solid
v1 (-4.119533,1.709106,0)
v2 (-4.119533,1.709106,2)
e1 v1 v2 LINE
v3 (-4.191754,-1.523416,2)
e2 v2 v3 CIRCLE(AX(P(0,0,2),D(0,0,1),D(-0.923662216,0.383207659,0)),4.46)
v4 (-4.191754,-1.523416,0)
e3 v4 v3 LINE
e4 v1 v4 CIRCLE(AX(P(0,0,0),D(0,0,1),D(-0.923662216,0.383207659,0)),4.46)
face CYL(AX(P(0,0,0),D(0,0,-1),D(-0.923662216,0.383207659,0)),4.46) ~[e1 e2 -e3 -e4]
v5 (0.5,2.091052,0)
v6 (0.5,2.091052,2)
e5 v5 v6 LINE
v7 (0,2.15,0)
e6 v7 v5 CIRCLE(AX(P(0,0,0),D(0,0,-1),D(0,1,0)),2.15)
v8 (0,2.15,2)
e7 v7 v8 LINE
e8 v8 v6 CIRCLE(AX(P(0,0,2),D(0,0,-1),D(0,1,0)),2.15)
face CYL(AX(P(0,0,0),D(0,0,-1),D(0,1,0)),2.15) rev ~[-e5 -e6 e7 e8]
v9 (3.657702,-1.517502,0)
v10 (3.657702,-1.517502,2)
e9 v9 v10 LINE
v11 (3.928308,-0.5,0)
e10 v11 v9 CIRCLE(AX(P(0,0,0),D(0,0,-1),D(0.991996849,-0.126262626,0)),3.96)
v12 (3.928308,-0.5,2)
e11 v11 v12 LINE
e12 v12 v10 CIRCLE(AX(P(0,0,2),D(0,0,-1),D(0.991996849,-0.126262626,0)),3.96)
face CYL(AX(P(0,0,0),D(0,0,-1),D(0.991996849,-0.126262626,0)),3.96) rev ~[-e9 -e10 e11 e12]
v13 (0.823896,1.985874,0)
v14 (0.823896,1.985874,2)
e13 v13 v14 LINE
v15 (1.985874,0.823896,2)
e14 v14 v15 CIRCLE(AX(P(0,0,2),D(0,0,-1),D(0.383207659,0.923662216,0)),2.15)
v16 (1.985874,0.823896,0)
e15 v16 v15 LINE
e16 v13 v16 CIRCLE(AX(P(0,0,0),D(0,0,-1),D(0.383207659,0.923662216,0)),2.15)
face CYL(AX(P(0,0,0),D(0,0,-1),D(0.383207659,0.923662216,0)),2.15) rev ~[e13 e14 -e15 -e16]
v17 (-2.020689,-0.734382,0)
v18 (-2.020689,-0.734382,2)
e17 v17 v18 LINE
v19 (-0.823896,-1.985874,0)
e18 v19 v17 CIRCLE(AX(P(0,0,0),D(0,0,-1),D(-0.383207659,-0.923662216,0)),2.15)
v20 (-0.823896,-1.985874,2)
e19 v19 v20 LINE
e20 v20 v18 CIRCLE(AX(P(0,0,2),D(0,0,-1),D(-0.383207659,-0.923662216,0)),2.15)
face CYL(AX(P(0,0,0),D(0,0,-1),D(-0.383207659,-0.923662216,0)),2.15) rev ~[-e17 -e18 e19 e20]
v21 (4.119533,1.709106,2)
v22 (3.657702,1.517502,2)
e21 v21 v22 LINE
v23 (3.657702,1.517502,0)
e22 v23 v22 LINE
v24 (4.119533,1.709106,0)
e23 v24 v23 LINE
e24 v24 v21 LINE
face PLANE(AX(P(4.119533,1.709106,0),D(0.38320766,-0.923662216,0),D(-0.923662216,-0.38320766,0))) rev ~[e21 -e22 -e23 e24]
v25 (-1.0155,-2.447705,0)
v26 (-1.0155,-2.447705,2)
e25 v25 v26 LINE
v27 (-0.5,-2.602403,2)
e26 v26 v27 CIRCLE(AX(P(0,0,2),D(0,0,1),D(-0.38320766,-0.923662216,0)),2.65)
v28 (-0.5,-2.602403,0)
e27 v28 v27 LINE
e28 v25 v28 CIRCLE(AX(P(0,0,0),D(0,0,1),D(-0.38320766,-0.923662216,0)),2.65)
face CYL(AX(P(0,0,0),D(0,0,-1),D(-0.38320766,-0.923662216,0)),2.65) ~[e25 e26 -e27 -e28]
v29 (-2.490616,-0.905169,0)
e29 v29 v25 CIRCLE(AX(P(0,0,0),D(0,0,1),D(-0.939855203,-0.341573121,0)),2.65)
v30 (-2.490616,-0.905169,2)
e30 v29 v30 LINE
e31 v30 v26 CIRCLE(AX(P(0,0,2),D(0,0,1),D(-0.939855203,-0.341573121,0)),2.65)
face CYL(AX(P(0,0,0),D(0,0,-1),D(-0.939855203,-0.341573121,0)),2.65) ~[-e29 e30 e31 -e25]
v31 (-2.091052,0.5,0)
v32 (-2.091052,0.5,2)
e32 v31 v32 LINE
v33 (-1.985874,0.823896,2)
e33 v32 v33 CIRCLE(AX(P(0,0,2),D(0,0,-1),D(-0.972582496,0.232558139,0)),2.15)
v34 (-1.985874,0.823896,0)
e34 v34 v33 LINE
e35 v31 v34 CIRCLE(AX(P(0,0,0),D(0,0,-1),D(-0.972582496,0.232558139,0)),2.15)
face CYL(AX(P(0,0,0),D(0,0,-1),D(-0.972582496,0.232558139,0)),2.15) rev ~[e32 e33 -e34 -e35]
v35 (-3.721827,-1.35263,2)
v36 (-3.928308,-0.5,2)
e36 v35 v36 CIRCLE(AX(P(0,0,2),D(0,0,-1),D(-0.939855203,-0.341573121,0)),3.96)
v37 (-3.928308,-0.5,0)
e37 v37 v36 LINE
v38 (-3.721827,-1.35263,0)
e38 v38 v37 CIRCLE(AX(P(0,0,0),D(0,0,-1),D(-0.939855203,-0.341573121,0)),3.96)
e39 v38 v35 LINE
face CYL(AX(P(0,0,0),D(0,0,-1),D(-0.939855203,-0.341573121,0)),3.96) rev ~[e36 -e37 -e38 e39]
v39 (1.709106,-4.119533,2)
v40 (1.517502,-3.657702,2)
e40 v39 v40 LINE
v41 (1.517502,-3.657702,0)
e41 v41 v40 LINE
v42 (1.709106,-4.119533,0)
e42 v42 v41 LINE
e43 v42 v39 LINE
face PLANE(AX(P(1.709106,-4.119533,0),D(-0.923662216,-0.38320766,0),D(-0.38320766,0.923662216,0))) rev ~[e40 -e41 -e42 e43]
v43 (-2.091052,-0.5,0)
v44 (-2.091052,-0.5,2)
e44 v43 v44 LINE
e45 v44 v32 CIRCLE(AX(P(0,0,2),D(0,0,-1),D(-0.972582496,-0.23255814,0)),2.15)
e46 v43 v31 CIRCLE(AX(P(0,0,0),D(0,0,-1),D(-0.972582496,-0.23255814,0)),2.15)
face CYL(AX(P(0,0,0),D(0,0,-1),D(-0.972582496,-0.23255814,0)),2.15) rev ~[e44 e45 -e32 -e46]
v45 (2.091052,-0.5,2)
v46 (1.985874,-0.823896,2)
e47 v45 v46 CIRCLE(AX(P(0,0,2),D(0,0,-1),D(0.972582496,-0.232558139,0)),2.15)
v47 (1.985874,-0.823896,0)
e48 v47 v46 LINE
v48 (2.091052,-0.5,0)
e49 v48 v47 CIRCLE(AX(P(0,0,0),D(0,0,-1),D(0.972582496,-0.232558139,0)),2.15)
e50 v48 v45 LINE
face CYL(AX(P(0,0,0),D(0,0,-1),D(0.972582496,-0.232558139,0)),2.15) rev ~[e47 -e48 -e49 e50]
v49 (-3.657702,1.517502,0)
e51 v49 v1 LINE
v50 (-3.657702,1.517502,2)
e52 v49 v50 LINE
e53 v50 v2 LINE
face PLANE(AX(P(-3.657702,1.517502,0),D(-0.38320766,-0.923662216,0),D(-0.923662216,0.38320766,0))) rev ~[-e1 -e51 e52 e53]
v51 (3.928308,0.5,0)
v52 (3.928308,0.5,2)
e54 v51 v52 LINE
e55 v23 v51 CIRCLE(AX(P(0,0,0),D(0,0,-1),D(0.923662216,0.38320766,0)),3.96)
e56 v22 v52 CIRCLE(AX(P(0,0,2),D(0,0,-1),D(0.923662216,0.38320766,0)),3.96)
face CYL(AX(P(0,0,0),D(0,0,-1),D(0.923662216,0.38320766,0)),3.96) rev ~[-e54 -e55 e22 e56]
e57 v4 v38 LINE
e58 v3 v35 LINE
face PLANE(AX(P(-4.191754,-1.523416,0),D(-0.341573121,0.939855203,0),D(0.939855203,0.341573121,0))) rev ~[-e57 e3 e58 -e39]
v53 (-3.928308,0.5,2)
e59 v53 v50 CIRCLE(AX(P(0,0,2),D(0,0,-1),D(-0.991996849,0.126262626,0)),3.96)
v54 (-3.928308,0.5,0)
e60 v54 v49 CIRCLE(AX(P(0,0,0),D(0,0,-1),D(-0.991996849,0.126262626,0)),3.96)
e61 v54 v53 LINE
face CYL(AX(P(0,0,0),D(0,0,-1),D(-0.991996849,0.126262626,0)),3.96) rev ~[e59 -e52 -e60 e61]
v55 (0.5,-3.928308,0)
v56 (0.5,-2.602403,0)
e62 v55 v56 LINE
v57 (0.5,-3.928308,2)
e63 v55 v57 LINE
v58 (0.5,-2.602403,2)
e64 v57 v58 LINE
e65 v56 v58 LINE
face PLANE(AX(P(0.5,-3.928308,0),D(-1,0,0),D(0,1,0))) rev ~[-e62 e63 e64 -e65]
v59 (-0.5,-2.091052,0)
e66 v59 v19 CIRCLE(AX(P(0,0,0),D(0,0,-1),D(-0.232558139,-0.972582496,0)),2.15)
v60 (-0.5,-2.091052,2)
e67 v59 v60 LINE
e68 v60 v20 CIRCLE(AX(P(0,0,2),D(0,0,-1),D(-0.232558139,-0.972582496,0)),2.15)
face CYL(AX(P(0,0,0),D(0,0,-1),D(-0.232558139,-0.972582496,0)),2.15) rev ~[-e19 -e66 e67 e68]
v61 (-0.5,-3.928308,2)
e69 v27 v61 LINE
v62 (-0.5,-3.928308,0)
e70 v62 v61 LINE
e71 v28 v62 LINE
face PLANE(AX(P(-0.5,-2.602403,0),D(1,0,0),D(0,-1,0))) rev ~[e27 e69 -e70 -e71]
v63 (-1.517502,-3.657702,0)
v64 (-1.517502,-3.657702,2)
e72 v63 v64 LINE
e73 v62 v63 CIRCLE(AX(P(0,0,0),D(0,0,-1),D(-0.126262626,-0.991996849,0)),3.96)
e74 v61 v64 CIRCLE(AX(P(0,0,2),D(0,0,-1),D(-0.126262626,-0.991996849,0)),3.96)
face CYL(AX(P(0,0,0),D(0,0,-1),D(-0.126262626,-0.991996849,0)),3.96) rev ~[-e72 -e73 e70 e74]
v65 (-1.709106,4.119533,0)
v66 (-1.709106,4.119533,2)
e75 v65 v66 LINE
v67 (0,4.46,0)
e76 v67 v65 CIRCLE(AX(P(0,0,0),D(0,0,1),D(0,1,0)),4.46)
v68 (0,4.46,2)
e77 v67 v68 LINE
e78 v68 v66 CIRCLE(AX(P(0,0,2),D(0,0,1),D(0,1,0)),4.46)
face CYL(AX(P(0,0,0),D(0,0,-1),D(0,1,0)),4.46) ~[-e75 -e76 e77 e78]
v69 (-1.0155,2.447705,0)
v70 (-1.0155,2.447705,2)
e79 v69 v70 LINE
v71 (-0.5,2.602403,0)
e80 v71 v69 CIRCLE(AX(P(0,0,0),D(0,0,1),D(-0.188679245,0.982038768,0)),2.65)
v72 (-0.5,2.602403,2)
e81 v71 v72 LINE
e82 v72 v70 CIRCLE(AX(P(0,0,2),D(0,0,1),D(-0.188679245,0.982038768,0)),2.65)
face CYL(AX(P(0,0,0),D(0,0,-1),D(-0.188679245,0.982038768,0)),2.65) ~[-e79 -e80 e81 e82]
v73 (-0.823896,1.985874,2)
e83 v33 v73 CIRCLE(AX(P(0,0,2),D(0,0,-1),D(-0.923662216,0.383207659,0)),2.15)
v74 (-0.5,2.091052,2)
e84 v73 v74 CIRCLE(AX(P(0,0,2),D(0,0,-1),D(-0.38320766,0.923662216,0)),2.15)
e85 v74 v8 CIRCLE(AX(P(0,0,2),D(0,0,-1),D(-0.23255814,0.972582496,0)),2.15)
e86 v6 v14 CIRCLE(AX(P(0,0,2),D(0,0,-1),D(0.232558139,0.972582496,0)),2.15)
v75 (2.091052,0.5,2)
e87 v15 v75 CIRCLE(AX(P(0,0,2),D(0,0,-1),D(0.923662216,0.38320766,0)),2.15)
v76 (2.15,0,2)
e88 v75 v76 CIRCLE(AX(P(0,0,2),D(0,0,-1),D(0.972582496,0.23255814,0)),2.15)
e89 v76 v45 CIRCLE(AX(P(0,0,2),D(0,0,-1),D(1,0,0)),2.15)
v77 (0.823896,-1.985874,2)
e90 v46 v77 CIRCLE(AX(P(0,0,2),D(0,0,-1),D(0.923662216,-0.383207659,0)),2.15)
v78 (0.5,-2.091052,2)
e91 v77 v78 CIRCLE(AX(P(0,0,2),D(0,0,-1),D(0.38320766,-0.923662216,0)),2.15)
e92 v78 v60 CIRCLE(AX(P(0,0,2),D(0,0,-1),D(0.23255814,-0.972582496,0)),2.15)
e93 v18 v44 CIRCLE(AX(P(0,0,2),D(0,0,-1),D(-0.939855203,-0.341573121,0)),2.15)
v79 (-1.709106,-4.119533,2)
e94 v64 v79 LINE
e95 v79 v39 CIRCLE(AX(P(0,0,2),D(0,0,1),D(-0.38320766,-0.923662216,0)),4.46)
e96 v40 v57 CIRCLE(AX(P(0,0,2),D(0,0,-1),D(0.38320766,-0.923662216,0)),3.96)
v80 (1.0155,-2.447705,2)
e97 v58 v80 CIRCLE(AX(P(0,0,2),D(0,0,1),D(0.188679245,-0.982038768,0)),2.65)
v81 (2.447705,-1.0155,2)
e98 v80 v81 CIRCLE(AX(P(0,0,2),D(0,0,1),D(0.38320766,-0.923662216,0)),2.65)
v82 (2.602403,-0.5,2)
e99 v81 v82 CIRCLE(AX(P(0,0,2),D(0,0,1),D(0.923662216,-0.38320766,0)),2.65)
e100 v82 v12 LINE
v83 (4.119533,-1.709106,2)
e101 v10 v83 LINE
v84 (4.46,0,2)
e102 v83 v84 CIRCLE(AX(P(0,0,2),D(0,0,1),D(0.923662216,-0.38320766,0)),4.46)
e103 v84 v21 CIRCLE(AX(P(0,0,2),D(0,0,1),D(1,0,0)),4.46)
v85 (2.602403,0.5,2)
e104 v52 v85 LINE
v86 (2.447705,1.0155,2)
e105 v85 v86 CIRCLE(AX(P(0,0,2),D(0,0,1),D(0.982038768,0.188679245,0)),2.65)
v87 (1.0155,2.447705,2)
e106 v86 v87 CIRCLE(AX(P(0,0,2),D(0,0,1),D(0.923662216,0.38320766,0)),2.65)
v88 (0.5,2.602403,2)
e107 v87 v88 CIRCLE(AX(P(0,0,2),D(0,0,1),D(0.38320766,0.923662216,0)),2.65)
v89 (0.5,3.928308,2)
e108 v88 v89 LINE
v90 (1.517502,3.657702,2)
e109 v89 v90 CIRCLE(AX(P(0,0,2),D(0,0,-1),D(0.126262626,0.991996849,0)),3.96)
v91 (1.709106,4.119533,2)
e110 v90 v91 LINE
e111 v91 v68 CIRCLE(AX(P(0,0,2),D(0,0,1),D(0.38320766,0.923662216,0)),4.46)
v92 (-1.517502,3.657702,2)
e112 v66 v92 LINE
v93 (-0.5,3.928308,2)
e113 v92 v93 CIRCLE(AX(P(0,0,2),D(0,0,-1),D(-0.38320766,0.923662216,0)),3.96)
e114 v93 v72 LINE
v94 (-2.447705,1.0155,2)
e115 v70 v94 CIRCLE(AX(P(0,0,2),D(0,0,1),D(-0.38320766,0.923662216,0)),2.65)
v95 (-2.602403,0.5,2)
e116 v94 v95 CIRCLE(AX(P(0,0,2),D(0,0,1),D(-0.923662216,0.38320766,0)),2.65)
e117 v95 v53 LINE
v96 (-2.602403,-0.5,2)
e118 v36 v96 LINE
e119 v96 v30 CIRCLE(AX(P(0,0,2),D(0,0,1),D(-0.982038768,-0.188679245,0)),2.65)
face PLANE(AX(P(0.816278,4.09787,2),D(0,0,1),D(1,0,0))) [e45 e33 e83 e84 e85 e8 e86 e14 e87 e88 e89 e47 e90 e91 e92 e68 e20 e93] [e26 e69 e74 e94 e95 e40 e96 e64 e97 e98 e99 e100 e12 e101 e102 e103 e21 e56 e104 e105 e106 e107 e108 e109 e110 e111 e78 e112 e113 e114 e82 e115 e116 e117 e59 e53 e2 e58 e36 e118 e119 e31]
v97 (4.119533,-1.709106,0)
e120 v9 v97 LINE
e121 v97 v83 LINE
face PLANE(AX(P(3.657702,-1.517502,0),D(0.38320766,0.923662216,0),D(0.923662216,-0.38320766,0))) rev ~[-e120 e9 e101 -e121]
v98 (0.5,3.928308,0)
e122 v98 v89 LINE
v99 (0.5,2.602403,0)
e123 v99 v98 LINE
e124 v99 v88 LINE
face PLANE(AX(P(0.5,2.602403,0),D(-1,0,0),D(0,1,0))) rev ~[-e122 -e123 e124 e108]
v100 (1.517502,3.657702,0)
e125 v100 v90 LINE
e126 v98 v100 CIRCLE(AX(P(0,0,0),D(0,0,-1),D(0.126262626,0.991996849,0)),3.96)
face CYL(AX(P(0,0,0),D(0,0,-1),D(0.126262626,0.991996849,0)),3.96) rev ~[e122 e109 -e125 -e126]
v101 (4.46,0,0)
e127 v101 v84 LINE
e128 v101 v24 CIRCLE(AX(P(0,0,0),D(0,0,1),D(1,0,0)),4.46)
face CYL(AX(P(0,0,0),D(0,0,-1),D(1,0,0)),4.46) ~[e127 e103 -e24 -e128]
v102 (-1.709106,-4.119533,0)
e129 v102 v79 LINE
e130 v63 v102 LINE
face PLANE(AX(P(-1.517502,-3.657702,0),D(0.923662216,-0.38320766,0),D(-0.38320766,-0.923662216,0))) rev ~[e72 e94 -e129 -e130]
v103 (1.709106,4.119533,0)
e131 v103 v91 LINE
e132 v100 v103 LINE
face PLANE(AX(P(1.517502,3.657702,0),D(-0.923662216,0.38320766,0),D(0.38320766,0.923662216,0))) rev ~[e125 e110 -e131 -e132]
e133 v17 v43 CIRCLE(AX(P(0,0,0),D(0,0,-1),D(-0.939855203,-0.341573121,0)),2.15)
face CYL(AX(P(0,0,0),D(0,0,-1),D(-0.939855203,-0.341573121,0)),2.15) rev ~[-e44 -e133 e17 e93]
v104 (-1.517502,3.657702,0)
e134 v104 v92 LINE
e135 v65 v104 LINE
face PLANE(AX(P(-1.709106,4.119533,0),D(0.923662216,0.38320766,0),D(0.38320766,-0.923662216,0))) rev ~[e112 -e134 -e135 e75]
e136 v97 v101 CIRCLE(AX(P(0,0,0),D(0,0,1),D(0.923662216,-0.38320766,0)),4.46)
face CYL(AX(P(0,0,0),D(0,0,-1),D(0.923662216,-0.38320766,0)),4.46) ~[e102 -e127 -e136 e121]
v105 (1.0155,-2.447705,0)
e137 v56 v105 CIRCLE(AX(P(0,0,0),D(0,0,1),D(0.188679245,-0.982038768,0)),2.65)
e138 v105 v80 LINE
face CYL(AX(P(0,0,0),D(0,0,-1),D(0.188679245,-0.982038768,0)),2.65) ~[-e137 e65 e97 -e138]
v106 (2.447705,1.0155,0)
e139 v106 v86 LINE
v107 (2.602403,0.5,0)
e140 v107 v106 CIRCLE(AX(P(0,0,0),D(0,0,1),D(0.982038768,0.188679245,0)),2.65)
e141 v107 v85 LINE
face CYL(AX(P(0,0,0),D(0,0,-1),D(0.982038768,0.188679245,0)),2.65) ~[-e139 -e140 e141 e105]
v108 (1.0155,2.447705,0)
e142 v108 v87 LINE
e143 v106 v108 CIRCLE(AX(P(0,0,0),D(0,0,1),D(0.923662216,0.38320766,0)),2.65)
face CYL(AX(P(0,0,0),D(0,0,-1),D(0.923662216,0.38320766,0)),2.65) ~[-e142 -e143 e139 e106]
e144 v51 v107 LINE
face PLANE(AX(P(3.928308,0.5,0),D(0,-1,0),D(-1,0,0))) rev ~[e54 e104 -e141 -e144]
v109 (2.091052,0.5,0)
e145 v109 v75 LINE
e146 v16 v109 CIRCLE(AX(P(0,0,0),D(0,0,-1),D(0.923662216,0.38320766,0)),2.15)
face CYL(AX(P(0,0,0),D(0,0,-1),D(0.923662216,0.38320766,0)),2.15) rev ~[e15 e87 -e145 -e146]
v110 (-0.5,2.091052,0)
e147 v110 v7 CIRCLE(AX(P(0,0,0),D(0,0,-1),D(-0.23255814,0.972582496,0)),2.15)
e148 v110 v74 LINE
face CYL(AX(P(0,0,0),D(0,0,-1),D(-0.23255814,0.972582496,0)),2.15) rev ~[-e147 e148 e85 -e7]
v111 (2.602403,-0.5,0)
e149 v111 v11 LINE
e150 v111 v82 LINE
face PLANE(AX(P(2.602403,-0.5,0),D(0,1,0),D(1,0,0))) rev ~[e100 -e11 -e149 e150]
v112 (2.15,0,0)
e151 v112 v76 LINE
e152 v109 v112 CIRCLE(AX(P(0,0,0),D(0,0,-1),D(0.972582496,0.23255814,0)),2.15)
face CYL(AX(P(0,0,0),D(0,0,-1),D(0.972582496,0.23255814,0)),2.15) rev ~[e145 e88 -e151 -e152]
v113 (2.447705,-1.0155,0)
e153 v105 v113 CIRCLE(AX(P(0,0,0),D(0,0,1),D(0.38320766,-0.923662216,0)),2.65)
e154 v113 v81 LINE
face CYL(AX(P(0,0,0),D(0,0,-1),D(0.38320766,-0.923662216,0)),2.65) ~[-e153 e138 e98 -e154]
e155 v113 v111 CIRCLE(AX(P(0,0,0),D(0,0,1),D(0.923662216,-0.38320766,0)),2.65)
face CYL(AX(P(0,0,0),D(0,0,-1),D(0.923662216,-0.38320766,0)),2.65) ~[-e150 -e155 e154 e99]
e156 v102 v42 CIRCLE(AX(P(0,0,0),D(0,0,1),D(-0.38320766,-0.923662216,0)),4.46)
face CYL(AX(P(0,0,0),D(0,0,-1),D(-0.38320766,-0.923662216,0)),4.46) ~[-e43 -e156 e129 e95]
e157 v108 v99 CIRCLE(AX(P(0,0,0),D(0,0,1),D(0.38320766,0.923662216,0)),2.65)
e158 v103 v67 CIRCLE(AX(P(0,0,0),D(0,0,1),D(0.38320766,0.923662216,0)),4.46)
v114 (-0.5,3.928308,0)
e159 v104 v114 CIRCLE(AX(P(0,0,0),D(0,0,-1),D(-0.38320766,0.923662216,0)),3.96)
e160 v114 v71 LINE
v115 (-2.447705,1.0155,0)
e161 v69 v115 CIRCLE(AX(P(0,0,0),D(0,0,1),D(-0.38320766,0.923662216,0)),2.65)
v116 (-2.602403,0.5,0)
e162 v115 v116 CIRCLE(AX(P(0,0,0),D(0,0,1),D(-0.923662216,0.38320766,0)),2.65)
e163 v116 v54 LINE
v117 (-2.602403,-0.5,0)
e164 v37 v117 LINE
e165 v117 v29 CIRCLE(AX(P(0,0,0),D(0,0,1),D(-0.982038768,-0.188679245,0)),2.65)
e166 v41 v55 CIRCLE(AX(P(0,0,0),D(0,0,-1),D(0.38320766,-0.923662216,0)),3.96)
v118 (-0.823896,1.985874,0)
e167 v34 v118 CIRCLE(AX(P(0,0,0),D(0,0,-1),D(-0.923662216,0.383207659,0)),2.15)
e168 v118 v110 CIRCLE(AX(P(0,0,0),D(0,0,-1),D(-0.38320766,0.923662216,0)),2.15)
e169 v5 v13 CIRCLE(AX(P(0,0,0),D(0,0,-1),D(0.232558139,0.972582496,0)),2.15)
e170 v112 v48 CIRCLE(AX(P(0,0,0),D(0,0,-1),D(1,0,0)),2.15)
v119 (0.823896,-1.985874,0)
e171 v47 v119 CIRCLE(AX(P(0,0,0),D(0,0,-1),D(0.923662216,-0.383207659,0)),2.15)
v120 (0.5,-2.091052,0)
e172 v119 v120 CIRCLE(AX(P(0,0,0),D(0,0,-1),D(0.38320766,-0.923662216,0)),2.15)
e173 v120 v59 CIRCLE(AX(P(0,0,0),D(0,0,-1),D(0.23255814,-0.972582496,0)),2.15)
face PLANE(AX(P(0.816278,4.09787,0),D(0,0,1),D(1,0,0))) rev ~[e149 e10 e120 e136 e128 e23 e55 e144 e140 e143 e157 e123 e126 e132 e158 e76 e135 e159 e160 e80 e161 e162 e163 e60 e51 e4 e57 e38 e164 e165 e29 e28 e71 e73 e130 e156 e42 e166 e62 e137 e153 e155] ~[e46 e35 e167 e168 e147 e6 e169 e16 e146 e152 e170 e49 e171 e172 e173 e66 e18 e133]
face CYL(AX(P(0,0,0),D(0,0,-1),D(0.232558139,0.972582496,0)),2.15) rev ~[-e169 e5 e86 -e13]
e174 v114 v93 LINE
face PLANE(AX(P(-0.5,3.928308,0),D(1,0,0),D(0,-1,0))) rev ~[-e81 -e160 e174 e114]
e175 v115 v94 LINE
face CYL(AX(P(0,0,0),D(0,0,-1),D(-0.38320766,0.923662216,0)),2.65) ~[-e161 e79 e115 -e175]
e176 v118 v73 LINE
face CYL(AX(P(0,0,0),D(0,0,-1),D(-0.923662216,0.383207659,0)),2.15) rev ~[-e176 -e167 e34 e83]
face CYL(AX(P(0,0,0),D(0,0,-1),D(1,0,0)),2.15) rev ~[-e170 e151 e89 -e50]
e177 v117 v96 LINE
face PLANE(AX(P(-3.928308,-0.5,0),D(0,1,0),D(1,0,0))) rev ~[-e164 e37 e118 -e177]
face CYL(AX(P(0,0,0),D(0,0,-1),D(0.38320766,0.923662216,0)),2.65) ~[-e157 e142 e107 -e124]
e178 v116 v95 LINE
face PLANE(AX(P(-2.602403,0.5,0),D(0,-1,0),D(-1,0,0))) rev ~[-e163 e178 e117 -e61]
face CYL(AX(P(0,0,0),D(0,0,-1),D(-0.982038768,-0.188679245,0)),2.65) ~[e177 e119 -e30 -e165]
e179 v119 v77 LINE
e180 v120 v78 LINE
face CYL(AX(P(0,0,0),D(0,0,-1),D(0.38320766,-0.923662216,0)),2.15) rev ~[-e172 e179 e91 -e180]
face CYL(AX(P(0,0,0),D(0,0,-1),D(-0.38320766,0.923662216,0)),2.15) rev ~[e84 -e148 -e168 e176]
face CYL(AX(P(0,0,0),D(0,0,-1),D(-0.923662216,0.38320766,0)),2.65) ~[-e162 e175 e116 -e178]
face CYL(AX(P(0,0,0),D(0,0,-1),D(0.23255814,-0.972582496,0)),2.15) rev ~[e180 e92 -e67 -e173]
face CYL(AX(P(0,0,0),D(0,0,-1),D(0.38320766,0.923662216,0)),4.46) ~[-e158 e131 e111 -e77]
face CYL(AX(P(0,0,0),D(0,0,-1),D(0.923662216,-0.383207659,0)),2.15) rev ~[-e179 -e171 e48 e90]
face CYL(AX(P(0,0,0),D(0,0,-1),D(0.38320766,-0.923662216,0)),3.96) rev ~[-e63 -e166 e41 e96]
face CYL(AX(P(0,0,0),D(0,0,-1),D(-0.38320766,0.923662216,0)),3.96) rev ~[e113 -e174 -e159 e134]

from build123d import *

# Parameters (mm, degrees)
F1_DEPTH = 2


with BuildPart() as f1:
    # F0 (on Top) → F1 (new body)
    with BuildSketch(Plane.XY):
        with BuildLine():
            ThreePointArc((0.5, 3.9283075236), (1.0177847027, 3.8269719491), (1.5175023316, 3.6577023763))
            Line((1.5175023316, 3.6577023763), (1.7091061614, 4.1195334844))
            ThreePointArc((1.7091061614, 4.1195334844), (0.871343979, 4.3740552889), (0, 4.46))
            Line((0, 4.46), (0, 3.96))
            ThreePointArc((0, 3.96), (0.2505017031, 3.9520689388), (0.5, 3.9283075236))
        make_face()
        with BuildLine():
            ThreePointArc((-0.5, 3.9283075236), (-0.2505017031, 3.9520689388), (0, 3.96))
            Line((0, 3.96), (0, 4.46))
            ThreePointArc((0, 4.46), (-0.871343979, 4.3740552889), (-1.7091061614, 4.1195334844))
            Line((-1.7091061614, 4.1195334844), (-1.5175023316, 3.6577023763))
            ThreePointArc((-1.5175023316, 3.6577023763), (-1.0177847027, 3.8269719491), (-0.5, 3.9283075236))
        make_face()
        with BuildLine():
            ThreePointArc((-0.5, 2.6024027359), (-0.2511301951, 2.6380738475), (0, 2.65))
            Line((0, 2.65), (0, 3.96))
            ThreePointArc((0, 3.96), (-0.2505017031, 3.9520689388), (-0.5, 3.9283075236))
            Line((-0.5, 3.9283075236), (-0.5, 2.6024027359))
        make_face()
        with BuildLine():
            ThreePointArc((0, 2.65), (0.2511301951, 2.6380738475), (0.5, 2.6024027359))
            Line((0.5, 2.6024027359), (0.5, 3.9283075236))
            ThreePointArc((0.5, 3.9283075236), (0.2505017031, 3.9520689388), (0, 3.96))
            Line((0, 3.96), (0, 2.65))
        make_face()
        with BuildLine():
            ThreePointArc((0, 2.15), (0.2517314161, 2.1352122363), (0.5, 2.0910523666))
            Line((0.5, 2.0910523666), (0.5, 2.6024027359))
            ThreePointArc((0.5, 2.6024027359), (0.2511301951, 2.6380738475), (0, 2.65))
            Line((0, 2.65), (0, 2.15))
        make_face()
        with BuildLine():
            ThreePointArc((-0.5, 2.0910523666), (-0.2517314161, 2.1352122363), (0, 2.15))
            Line((0, 2.15), (0, 2.65))
            ThreePointArc((0, 2.65), (-0.2511301951, 2.6380738475), (-0.5, 2.6024027359))
            Line((-0.5, 2.6024027359), (-0.5, 2.0910523666))
        make_face()
        with BuildLine():
            ThreePointArc((-0.8238964679, 1.9858737649), (-0.6640339592, 2.0448860362), (-0.5, 2.0910523666))
            Line((-0.5, 2.0910523666), (-0.5, 2.6024027359))
            ThreePointArc((-0.5, 2.6024027359), (-0.7616876954, 2.5381749063), (-1.0155002977, 2.447704873))
            Line((-1.0155002977, 2.447704873), (-0.8238964679, 1.9858737649))
        make_face()
        with BuildLine():
            ThreePointArc((0.5, 2.0910523666), (0.6640339592, 2.0448860362), (0.8238964679, 1.9858737649))
            Line((0.8238964679, 1.9858737649), (1.0155002977, 2.447704873))
            ThreePointArc((1.0155002977, 2.447704873), (0.7616876954, 2.5381749063), (0.5, 2.6024027359))
            Line((0.5, 2.6024027359), (0.5, 2.0910523666))
        make_face()
        with BuildLine():
            ThreePointArc((0.8238964679, 1.9858737649), (1.5202795796, 1.5202795796), (1.9858737649, 0.8238964679))
            Line((1.9858737649, 0.8238964679), (2.447704873, 1.0155002977))
            ThreePointArc((2.447704873, 1.0155002977), (1.8738329701, 1.8738329701), (1.0155002977, 2.447704873))
            Line((1.0155002977, 2.447704873), (0.8238964679, 1.9858737649))
        make_face()
        with BuildLine():
            ThreePointArc((-1.9858737649, 0.8238964679), (-1.5202795796, 1.5202795796), (-0.8238964679, 1.9858737649))
            Line((-0.8238964679, 1.9858737649), (-1.0155002977, 2.447704873))
            ThreePointArc((-1.0155002977, 2.447704873), (-1.8738329701, 1.8738329701), (-2.447704873, 1.0155002977))
            Line((-2.447704873, 1.0155002977), (-1.9858737649, 0.8238964679))
        make_face()
        with BuildLine():
            ThreePointArc((-2.0910523666, 0.5), (-2.0448860362, 0.6640339592), (-1.9858737649, 0.8238964679))
            Line((-1.9858737649, 0.8238964679), (-2.447704873, 1.0155002977))
            ThreePointArc((-2.447704873, 1.0155002977), (-2.5381749063, 0.7616876954), (-2.6024027359, 0.5))
            Line((-2.6024027359, 0.5), (-2.0910523666, 0.5))
        make_face()
        with BuildLine():
            Line((-2.6024027359, -0.5), (-2.0910523666, -0.5))
            ThreePointArc((-2.0910523666, -0.5), (-2.15, 0), (-2.0910523666, 0.5))
            Line((-2.0910523666, 0.5), (-2.6024027359, 0.5))
            ThreePointArc((-2.6024027359, 0.5), (-2.65, 0), (-2.6024027359, -0.5))
        make_face()
        with BuildLine():
            Line((-2.4906162885, -0.9051687706), (-2.0206886869, -0.7343822101))
            ThreePointArc((-2.0206886869, -0.7343822101), (-2.0592079492, -0.6181930297), (-2.0910523666, -0.5))
            Line((-2.0910523666, -0.5), (-2.6024027359, -0.5))
            ThreePointArc((-2.6024027359, -0.5), (-2.5545549767, -0.7048041366), (-2.4906162885, -0.9051687706))
        make_face()
        with BuildLine():
            Line((-1.0155002977, -2.447704873), (-0.8238964679, -1.9858737649))
            ThreePointArc((-0.8238964679, -1.9858737649), (-1.553857765, -1.4859428139), (-2.0206886869, -0.7343822101))
            Line((-2.0206886869, -0.7343822101), (-2.4906162885, -0.9051687706))
            ThreePointArc((-2.4906162885, -0.9051687706), (-1.9152200359, -1.8315109102), (-1.0155002977, -2.447704873))
        make_face()
        with BuildLine():
            Line((-0.5, -2.6024027359), (-0.5, -2.0910523666))
            ThreePointArc((-0.5, -2.0910523666), (-0.6640339592, -2.0448860362), (-0.8238964679, -1.9858737649))
            Line((-0.8238964679, -1.9858737649), (-1.0155002977, -2.447704873))
            ThreePointArc((-1.0155002977, -2.447704873), (-0.7616876954, -2.5381749063), (-0.5, -2.6024027359))
        make_face()
        with BuildLine():
            Line((0.5, -2.6024027359), (0.5, -2.0910523666))
            ThreePointArc((0.5, -2.0910523666), (0, -2.15), (-0.5, -2.0910523666))
            Line((-0.5, -2.0910523666), (-0.5, -2.6024027359))
            ThreePointArc((-0.5, -2.6024027359), (0, -2.65), (0.5, -2.6024027359))
        make_face()
        with BuildLine():
            Line((1.0155002977, -2.447704873), (0.8238964679, -1.9858737649))
            ThreePointArc((0.8238964679, -1.9858737649), (0.6640339592, -2.0448860362), (0.5, -2.0910523666))
            Line((0.5, -2.0910523666), (0.5, -2.6024027359))
            ThreePointArc((0.5, -2.6024027359), (0.7616876954, -2.5381749063), (1.0155002977, -2.447704873))
        make_face()
        with BuildLine():
            Line((2.447704873, -1.0155002977), (1.9858737649, -0.8238964679))
            ThreePointArc((1.9858737649, -0.8238964679), (1.5202795796, -1.5202795796), (0.8238964679, -1.9858737649))
            Line((0.8238964679, -1.9858737649), (1.0155002977, -2.447704873))
            ThreePointArc((1.0155002977, -2.447704873), (1.8738329701, -1.8738329701), (2.447704873, -1.0155002977))
        make_face()
        with BuildLine():
            Line((2.6024027359, -0.5), (2.0910523666, -0.5))
            ThreePointArc((2.0910523666, -0.5), (2.0448860362, -0.6640339592), (1.9858737649, -0.8238964679))
            Line((1.9858737649, -0.8238964679), (2.447704873, -1.0155002977))
            ThreePointArc((2.447704873, -1.0155002977), (2.5381749063, -0.7616876954), (2.6024027359, -0.5))
        make_face()
        with BuildLine():
            ThreePointArc((2.0910523666, 0.5), (2.1352122363, 0.2517314161), (2.15, 0))
            ThreePointArc((2.15, 0), (2.1352122363, -0.2517314161), (2.0910523666, -0.5))
            Line((2.0910523666, -0.5), (2.6024027359, -0.5))
            ThreePointArc((2.6024027359, -0.5), (2.6380738475, -0.2511301951), (2.65, 0))
            ThreePointArc((2.65, 0), (2.6380738475, 0.2511301951), (2.6024027359, 0.5))
            Line((2.6024027359, 0.5), (2.0910523666, 0.5))
        make_face()
        with BuildLine():
            ThreePointArc((1.9858737649, 0.8238964679), (2.0448860362, 0.6640339592), (2.0910523666, 0.5))
            Line((2.0910523666, 0.5), (2.6024027359, 0.5))
            ThreePointArc((2.6024027359, 0.5), (2.5381749063, 0.7616876954), (2.447704873, 1.0155002977))
            Line((2.447704873, 1.0155002977), (1.9858737649, 0.8238964679))
        make_face()
        with BuildLine():
            Line((3.9283075236, 0.5), (2.6024027359, 0.5))
            ThreePointArc((2.6024027359, 0.5), (2.6380738475, 0.2511301951), (2.65, 0))
            ThreePointArc((2.65, 0), (2.6380738475, -0.2511301951), (2.6024027359, -0.5))
            Line((2.6024027359, -0.5), (3.9283075236, -0.5))
            ThreePointArc((3.9283075236, -0.5), (3.9520689388, -0.2505017031), (3.96, 0))
            ThreePointArc((3.96, 0), (3.9520689388, 0.2505017031), (3.9283075236, 0.5))
        make_face()
        with BuildLine():
            ThreePointArc((3.6577023763, 1.5175023316), (3.8269719491, 1.0177847027), (3.9283075236, 0.5))
            ThreePointArc((3.9283075236, 0.5), (3.9520689388, 0.2505017031), (3.96, 0))
            ThreePointArc((3.96, 0), (3.9520689388, -0.2505017031), (3.9283075236, -0.5))
            ThreePointArc((3.9283075236, -0.5), (3.8269719491, -1.0177847027), (3.6577023763, -1.5175023316))
            Line((3.6577023763, -1.5175023316), (4.1195334844, -1.7091061614))
            ThreePointArc((4.1195334844, -1.7091061614), (4.3740552889, -0.871343979), (4.46, 0))
            ThreePointArc((4.46, 0), (4.3740552889, 0.871343979), (4.1195334844, 1.7091061614))
            Line((4.1195334844, 1.7091061614), (3.6577023763, 1.5175023316))
        make_face()
        with BuildLine():
            Line((-3.9283075236, -0.5), (-2.6024027359, -0.5))
            ThreePointArc((-2.6024027359, -0.5), (-2.65, 0), (-2.6024027359, 0.5))
            Line((-2.6024027359, 0.5), (-3.9283075236, 0.5))
            ThreePointArc((-3.9283075236, 0.5), (-3.96, 0), (-3.9283075236, -0.5))
        make_face()
        with BuildLine():
            ThreePointArc((-4.1195334844, 1.7091061614), (-4.4588872876, 0.0996200586), (-4.1917542064, -1.5234161196))
            Line((-4.1917542064, -1.5234161196), (-3.7218266048, -1.3526295591))
            ThreePointArc((-3.7218266048, -1.3526295591), (-3.8487507501, -0.9320502472), (-3.9283075236, -0.5))
            ThreePointArc((-3.9283075236, -0.5), (-3.96, 0), (-3.9283075236, 0.5))
            ThreePointArc((-3.9283075236, 0.5), (-3.8269719491, 1.0177847027), (-3.6577023763, 1.5175023316))
            Line((-3.6577023763, 1.5175023316), (-4.1195334844, 1.7091061614))
        make_face()
        with BuildLine():
            Line((0.5, -3.9283075236), (0.5, -2.6024027359))
            ThreePointArc((0.5, -2.6024027359), (0, -2.65), (-0.5, -2.6024027359))
            Line((-0.5, -2.6024027359), (-0.5, -3.9283075236))
            ThreePointArc((-0.5, -3.9283075236), (0, -3.96), (0.5, -3.9283075236))
        make_face()
        with BuildLine():
            Line((1.7091061614, -4.1195334844), (1.5175023316, -3.6577023763))
            ThreePointArc((1.5175023316, -3.6577023763), (1.0177847027, -3.8269719491), (0.5, -3.9283075236))
            ThreePointArc((0.5, -3.9283075236), (0, -3.96), (-0.5, -3.9283075236))
            ThreePointArc((-0.5, -3.9283075236), (-1.0177847027, -3.8269719491), (-1.5175023316, -3.6577023763))
            Line((-1.5175023316, -3.6577023763), (-1.7091061614, -4.1195334844))
            ThreePointArc((-1.7091061614, -4.1195334844), (0, -4.46), (1.7091061614, -4.1195334844))
        make_face()
    extrude(amount=F1_DEPTH)


solid = f1.part
